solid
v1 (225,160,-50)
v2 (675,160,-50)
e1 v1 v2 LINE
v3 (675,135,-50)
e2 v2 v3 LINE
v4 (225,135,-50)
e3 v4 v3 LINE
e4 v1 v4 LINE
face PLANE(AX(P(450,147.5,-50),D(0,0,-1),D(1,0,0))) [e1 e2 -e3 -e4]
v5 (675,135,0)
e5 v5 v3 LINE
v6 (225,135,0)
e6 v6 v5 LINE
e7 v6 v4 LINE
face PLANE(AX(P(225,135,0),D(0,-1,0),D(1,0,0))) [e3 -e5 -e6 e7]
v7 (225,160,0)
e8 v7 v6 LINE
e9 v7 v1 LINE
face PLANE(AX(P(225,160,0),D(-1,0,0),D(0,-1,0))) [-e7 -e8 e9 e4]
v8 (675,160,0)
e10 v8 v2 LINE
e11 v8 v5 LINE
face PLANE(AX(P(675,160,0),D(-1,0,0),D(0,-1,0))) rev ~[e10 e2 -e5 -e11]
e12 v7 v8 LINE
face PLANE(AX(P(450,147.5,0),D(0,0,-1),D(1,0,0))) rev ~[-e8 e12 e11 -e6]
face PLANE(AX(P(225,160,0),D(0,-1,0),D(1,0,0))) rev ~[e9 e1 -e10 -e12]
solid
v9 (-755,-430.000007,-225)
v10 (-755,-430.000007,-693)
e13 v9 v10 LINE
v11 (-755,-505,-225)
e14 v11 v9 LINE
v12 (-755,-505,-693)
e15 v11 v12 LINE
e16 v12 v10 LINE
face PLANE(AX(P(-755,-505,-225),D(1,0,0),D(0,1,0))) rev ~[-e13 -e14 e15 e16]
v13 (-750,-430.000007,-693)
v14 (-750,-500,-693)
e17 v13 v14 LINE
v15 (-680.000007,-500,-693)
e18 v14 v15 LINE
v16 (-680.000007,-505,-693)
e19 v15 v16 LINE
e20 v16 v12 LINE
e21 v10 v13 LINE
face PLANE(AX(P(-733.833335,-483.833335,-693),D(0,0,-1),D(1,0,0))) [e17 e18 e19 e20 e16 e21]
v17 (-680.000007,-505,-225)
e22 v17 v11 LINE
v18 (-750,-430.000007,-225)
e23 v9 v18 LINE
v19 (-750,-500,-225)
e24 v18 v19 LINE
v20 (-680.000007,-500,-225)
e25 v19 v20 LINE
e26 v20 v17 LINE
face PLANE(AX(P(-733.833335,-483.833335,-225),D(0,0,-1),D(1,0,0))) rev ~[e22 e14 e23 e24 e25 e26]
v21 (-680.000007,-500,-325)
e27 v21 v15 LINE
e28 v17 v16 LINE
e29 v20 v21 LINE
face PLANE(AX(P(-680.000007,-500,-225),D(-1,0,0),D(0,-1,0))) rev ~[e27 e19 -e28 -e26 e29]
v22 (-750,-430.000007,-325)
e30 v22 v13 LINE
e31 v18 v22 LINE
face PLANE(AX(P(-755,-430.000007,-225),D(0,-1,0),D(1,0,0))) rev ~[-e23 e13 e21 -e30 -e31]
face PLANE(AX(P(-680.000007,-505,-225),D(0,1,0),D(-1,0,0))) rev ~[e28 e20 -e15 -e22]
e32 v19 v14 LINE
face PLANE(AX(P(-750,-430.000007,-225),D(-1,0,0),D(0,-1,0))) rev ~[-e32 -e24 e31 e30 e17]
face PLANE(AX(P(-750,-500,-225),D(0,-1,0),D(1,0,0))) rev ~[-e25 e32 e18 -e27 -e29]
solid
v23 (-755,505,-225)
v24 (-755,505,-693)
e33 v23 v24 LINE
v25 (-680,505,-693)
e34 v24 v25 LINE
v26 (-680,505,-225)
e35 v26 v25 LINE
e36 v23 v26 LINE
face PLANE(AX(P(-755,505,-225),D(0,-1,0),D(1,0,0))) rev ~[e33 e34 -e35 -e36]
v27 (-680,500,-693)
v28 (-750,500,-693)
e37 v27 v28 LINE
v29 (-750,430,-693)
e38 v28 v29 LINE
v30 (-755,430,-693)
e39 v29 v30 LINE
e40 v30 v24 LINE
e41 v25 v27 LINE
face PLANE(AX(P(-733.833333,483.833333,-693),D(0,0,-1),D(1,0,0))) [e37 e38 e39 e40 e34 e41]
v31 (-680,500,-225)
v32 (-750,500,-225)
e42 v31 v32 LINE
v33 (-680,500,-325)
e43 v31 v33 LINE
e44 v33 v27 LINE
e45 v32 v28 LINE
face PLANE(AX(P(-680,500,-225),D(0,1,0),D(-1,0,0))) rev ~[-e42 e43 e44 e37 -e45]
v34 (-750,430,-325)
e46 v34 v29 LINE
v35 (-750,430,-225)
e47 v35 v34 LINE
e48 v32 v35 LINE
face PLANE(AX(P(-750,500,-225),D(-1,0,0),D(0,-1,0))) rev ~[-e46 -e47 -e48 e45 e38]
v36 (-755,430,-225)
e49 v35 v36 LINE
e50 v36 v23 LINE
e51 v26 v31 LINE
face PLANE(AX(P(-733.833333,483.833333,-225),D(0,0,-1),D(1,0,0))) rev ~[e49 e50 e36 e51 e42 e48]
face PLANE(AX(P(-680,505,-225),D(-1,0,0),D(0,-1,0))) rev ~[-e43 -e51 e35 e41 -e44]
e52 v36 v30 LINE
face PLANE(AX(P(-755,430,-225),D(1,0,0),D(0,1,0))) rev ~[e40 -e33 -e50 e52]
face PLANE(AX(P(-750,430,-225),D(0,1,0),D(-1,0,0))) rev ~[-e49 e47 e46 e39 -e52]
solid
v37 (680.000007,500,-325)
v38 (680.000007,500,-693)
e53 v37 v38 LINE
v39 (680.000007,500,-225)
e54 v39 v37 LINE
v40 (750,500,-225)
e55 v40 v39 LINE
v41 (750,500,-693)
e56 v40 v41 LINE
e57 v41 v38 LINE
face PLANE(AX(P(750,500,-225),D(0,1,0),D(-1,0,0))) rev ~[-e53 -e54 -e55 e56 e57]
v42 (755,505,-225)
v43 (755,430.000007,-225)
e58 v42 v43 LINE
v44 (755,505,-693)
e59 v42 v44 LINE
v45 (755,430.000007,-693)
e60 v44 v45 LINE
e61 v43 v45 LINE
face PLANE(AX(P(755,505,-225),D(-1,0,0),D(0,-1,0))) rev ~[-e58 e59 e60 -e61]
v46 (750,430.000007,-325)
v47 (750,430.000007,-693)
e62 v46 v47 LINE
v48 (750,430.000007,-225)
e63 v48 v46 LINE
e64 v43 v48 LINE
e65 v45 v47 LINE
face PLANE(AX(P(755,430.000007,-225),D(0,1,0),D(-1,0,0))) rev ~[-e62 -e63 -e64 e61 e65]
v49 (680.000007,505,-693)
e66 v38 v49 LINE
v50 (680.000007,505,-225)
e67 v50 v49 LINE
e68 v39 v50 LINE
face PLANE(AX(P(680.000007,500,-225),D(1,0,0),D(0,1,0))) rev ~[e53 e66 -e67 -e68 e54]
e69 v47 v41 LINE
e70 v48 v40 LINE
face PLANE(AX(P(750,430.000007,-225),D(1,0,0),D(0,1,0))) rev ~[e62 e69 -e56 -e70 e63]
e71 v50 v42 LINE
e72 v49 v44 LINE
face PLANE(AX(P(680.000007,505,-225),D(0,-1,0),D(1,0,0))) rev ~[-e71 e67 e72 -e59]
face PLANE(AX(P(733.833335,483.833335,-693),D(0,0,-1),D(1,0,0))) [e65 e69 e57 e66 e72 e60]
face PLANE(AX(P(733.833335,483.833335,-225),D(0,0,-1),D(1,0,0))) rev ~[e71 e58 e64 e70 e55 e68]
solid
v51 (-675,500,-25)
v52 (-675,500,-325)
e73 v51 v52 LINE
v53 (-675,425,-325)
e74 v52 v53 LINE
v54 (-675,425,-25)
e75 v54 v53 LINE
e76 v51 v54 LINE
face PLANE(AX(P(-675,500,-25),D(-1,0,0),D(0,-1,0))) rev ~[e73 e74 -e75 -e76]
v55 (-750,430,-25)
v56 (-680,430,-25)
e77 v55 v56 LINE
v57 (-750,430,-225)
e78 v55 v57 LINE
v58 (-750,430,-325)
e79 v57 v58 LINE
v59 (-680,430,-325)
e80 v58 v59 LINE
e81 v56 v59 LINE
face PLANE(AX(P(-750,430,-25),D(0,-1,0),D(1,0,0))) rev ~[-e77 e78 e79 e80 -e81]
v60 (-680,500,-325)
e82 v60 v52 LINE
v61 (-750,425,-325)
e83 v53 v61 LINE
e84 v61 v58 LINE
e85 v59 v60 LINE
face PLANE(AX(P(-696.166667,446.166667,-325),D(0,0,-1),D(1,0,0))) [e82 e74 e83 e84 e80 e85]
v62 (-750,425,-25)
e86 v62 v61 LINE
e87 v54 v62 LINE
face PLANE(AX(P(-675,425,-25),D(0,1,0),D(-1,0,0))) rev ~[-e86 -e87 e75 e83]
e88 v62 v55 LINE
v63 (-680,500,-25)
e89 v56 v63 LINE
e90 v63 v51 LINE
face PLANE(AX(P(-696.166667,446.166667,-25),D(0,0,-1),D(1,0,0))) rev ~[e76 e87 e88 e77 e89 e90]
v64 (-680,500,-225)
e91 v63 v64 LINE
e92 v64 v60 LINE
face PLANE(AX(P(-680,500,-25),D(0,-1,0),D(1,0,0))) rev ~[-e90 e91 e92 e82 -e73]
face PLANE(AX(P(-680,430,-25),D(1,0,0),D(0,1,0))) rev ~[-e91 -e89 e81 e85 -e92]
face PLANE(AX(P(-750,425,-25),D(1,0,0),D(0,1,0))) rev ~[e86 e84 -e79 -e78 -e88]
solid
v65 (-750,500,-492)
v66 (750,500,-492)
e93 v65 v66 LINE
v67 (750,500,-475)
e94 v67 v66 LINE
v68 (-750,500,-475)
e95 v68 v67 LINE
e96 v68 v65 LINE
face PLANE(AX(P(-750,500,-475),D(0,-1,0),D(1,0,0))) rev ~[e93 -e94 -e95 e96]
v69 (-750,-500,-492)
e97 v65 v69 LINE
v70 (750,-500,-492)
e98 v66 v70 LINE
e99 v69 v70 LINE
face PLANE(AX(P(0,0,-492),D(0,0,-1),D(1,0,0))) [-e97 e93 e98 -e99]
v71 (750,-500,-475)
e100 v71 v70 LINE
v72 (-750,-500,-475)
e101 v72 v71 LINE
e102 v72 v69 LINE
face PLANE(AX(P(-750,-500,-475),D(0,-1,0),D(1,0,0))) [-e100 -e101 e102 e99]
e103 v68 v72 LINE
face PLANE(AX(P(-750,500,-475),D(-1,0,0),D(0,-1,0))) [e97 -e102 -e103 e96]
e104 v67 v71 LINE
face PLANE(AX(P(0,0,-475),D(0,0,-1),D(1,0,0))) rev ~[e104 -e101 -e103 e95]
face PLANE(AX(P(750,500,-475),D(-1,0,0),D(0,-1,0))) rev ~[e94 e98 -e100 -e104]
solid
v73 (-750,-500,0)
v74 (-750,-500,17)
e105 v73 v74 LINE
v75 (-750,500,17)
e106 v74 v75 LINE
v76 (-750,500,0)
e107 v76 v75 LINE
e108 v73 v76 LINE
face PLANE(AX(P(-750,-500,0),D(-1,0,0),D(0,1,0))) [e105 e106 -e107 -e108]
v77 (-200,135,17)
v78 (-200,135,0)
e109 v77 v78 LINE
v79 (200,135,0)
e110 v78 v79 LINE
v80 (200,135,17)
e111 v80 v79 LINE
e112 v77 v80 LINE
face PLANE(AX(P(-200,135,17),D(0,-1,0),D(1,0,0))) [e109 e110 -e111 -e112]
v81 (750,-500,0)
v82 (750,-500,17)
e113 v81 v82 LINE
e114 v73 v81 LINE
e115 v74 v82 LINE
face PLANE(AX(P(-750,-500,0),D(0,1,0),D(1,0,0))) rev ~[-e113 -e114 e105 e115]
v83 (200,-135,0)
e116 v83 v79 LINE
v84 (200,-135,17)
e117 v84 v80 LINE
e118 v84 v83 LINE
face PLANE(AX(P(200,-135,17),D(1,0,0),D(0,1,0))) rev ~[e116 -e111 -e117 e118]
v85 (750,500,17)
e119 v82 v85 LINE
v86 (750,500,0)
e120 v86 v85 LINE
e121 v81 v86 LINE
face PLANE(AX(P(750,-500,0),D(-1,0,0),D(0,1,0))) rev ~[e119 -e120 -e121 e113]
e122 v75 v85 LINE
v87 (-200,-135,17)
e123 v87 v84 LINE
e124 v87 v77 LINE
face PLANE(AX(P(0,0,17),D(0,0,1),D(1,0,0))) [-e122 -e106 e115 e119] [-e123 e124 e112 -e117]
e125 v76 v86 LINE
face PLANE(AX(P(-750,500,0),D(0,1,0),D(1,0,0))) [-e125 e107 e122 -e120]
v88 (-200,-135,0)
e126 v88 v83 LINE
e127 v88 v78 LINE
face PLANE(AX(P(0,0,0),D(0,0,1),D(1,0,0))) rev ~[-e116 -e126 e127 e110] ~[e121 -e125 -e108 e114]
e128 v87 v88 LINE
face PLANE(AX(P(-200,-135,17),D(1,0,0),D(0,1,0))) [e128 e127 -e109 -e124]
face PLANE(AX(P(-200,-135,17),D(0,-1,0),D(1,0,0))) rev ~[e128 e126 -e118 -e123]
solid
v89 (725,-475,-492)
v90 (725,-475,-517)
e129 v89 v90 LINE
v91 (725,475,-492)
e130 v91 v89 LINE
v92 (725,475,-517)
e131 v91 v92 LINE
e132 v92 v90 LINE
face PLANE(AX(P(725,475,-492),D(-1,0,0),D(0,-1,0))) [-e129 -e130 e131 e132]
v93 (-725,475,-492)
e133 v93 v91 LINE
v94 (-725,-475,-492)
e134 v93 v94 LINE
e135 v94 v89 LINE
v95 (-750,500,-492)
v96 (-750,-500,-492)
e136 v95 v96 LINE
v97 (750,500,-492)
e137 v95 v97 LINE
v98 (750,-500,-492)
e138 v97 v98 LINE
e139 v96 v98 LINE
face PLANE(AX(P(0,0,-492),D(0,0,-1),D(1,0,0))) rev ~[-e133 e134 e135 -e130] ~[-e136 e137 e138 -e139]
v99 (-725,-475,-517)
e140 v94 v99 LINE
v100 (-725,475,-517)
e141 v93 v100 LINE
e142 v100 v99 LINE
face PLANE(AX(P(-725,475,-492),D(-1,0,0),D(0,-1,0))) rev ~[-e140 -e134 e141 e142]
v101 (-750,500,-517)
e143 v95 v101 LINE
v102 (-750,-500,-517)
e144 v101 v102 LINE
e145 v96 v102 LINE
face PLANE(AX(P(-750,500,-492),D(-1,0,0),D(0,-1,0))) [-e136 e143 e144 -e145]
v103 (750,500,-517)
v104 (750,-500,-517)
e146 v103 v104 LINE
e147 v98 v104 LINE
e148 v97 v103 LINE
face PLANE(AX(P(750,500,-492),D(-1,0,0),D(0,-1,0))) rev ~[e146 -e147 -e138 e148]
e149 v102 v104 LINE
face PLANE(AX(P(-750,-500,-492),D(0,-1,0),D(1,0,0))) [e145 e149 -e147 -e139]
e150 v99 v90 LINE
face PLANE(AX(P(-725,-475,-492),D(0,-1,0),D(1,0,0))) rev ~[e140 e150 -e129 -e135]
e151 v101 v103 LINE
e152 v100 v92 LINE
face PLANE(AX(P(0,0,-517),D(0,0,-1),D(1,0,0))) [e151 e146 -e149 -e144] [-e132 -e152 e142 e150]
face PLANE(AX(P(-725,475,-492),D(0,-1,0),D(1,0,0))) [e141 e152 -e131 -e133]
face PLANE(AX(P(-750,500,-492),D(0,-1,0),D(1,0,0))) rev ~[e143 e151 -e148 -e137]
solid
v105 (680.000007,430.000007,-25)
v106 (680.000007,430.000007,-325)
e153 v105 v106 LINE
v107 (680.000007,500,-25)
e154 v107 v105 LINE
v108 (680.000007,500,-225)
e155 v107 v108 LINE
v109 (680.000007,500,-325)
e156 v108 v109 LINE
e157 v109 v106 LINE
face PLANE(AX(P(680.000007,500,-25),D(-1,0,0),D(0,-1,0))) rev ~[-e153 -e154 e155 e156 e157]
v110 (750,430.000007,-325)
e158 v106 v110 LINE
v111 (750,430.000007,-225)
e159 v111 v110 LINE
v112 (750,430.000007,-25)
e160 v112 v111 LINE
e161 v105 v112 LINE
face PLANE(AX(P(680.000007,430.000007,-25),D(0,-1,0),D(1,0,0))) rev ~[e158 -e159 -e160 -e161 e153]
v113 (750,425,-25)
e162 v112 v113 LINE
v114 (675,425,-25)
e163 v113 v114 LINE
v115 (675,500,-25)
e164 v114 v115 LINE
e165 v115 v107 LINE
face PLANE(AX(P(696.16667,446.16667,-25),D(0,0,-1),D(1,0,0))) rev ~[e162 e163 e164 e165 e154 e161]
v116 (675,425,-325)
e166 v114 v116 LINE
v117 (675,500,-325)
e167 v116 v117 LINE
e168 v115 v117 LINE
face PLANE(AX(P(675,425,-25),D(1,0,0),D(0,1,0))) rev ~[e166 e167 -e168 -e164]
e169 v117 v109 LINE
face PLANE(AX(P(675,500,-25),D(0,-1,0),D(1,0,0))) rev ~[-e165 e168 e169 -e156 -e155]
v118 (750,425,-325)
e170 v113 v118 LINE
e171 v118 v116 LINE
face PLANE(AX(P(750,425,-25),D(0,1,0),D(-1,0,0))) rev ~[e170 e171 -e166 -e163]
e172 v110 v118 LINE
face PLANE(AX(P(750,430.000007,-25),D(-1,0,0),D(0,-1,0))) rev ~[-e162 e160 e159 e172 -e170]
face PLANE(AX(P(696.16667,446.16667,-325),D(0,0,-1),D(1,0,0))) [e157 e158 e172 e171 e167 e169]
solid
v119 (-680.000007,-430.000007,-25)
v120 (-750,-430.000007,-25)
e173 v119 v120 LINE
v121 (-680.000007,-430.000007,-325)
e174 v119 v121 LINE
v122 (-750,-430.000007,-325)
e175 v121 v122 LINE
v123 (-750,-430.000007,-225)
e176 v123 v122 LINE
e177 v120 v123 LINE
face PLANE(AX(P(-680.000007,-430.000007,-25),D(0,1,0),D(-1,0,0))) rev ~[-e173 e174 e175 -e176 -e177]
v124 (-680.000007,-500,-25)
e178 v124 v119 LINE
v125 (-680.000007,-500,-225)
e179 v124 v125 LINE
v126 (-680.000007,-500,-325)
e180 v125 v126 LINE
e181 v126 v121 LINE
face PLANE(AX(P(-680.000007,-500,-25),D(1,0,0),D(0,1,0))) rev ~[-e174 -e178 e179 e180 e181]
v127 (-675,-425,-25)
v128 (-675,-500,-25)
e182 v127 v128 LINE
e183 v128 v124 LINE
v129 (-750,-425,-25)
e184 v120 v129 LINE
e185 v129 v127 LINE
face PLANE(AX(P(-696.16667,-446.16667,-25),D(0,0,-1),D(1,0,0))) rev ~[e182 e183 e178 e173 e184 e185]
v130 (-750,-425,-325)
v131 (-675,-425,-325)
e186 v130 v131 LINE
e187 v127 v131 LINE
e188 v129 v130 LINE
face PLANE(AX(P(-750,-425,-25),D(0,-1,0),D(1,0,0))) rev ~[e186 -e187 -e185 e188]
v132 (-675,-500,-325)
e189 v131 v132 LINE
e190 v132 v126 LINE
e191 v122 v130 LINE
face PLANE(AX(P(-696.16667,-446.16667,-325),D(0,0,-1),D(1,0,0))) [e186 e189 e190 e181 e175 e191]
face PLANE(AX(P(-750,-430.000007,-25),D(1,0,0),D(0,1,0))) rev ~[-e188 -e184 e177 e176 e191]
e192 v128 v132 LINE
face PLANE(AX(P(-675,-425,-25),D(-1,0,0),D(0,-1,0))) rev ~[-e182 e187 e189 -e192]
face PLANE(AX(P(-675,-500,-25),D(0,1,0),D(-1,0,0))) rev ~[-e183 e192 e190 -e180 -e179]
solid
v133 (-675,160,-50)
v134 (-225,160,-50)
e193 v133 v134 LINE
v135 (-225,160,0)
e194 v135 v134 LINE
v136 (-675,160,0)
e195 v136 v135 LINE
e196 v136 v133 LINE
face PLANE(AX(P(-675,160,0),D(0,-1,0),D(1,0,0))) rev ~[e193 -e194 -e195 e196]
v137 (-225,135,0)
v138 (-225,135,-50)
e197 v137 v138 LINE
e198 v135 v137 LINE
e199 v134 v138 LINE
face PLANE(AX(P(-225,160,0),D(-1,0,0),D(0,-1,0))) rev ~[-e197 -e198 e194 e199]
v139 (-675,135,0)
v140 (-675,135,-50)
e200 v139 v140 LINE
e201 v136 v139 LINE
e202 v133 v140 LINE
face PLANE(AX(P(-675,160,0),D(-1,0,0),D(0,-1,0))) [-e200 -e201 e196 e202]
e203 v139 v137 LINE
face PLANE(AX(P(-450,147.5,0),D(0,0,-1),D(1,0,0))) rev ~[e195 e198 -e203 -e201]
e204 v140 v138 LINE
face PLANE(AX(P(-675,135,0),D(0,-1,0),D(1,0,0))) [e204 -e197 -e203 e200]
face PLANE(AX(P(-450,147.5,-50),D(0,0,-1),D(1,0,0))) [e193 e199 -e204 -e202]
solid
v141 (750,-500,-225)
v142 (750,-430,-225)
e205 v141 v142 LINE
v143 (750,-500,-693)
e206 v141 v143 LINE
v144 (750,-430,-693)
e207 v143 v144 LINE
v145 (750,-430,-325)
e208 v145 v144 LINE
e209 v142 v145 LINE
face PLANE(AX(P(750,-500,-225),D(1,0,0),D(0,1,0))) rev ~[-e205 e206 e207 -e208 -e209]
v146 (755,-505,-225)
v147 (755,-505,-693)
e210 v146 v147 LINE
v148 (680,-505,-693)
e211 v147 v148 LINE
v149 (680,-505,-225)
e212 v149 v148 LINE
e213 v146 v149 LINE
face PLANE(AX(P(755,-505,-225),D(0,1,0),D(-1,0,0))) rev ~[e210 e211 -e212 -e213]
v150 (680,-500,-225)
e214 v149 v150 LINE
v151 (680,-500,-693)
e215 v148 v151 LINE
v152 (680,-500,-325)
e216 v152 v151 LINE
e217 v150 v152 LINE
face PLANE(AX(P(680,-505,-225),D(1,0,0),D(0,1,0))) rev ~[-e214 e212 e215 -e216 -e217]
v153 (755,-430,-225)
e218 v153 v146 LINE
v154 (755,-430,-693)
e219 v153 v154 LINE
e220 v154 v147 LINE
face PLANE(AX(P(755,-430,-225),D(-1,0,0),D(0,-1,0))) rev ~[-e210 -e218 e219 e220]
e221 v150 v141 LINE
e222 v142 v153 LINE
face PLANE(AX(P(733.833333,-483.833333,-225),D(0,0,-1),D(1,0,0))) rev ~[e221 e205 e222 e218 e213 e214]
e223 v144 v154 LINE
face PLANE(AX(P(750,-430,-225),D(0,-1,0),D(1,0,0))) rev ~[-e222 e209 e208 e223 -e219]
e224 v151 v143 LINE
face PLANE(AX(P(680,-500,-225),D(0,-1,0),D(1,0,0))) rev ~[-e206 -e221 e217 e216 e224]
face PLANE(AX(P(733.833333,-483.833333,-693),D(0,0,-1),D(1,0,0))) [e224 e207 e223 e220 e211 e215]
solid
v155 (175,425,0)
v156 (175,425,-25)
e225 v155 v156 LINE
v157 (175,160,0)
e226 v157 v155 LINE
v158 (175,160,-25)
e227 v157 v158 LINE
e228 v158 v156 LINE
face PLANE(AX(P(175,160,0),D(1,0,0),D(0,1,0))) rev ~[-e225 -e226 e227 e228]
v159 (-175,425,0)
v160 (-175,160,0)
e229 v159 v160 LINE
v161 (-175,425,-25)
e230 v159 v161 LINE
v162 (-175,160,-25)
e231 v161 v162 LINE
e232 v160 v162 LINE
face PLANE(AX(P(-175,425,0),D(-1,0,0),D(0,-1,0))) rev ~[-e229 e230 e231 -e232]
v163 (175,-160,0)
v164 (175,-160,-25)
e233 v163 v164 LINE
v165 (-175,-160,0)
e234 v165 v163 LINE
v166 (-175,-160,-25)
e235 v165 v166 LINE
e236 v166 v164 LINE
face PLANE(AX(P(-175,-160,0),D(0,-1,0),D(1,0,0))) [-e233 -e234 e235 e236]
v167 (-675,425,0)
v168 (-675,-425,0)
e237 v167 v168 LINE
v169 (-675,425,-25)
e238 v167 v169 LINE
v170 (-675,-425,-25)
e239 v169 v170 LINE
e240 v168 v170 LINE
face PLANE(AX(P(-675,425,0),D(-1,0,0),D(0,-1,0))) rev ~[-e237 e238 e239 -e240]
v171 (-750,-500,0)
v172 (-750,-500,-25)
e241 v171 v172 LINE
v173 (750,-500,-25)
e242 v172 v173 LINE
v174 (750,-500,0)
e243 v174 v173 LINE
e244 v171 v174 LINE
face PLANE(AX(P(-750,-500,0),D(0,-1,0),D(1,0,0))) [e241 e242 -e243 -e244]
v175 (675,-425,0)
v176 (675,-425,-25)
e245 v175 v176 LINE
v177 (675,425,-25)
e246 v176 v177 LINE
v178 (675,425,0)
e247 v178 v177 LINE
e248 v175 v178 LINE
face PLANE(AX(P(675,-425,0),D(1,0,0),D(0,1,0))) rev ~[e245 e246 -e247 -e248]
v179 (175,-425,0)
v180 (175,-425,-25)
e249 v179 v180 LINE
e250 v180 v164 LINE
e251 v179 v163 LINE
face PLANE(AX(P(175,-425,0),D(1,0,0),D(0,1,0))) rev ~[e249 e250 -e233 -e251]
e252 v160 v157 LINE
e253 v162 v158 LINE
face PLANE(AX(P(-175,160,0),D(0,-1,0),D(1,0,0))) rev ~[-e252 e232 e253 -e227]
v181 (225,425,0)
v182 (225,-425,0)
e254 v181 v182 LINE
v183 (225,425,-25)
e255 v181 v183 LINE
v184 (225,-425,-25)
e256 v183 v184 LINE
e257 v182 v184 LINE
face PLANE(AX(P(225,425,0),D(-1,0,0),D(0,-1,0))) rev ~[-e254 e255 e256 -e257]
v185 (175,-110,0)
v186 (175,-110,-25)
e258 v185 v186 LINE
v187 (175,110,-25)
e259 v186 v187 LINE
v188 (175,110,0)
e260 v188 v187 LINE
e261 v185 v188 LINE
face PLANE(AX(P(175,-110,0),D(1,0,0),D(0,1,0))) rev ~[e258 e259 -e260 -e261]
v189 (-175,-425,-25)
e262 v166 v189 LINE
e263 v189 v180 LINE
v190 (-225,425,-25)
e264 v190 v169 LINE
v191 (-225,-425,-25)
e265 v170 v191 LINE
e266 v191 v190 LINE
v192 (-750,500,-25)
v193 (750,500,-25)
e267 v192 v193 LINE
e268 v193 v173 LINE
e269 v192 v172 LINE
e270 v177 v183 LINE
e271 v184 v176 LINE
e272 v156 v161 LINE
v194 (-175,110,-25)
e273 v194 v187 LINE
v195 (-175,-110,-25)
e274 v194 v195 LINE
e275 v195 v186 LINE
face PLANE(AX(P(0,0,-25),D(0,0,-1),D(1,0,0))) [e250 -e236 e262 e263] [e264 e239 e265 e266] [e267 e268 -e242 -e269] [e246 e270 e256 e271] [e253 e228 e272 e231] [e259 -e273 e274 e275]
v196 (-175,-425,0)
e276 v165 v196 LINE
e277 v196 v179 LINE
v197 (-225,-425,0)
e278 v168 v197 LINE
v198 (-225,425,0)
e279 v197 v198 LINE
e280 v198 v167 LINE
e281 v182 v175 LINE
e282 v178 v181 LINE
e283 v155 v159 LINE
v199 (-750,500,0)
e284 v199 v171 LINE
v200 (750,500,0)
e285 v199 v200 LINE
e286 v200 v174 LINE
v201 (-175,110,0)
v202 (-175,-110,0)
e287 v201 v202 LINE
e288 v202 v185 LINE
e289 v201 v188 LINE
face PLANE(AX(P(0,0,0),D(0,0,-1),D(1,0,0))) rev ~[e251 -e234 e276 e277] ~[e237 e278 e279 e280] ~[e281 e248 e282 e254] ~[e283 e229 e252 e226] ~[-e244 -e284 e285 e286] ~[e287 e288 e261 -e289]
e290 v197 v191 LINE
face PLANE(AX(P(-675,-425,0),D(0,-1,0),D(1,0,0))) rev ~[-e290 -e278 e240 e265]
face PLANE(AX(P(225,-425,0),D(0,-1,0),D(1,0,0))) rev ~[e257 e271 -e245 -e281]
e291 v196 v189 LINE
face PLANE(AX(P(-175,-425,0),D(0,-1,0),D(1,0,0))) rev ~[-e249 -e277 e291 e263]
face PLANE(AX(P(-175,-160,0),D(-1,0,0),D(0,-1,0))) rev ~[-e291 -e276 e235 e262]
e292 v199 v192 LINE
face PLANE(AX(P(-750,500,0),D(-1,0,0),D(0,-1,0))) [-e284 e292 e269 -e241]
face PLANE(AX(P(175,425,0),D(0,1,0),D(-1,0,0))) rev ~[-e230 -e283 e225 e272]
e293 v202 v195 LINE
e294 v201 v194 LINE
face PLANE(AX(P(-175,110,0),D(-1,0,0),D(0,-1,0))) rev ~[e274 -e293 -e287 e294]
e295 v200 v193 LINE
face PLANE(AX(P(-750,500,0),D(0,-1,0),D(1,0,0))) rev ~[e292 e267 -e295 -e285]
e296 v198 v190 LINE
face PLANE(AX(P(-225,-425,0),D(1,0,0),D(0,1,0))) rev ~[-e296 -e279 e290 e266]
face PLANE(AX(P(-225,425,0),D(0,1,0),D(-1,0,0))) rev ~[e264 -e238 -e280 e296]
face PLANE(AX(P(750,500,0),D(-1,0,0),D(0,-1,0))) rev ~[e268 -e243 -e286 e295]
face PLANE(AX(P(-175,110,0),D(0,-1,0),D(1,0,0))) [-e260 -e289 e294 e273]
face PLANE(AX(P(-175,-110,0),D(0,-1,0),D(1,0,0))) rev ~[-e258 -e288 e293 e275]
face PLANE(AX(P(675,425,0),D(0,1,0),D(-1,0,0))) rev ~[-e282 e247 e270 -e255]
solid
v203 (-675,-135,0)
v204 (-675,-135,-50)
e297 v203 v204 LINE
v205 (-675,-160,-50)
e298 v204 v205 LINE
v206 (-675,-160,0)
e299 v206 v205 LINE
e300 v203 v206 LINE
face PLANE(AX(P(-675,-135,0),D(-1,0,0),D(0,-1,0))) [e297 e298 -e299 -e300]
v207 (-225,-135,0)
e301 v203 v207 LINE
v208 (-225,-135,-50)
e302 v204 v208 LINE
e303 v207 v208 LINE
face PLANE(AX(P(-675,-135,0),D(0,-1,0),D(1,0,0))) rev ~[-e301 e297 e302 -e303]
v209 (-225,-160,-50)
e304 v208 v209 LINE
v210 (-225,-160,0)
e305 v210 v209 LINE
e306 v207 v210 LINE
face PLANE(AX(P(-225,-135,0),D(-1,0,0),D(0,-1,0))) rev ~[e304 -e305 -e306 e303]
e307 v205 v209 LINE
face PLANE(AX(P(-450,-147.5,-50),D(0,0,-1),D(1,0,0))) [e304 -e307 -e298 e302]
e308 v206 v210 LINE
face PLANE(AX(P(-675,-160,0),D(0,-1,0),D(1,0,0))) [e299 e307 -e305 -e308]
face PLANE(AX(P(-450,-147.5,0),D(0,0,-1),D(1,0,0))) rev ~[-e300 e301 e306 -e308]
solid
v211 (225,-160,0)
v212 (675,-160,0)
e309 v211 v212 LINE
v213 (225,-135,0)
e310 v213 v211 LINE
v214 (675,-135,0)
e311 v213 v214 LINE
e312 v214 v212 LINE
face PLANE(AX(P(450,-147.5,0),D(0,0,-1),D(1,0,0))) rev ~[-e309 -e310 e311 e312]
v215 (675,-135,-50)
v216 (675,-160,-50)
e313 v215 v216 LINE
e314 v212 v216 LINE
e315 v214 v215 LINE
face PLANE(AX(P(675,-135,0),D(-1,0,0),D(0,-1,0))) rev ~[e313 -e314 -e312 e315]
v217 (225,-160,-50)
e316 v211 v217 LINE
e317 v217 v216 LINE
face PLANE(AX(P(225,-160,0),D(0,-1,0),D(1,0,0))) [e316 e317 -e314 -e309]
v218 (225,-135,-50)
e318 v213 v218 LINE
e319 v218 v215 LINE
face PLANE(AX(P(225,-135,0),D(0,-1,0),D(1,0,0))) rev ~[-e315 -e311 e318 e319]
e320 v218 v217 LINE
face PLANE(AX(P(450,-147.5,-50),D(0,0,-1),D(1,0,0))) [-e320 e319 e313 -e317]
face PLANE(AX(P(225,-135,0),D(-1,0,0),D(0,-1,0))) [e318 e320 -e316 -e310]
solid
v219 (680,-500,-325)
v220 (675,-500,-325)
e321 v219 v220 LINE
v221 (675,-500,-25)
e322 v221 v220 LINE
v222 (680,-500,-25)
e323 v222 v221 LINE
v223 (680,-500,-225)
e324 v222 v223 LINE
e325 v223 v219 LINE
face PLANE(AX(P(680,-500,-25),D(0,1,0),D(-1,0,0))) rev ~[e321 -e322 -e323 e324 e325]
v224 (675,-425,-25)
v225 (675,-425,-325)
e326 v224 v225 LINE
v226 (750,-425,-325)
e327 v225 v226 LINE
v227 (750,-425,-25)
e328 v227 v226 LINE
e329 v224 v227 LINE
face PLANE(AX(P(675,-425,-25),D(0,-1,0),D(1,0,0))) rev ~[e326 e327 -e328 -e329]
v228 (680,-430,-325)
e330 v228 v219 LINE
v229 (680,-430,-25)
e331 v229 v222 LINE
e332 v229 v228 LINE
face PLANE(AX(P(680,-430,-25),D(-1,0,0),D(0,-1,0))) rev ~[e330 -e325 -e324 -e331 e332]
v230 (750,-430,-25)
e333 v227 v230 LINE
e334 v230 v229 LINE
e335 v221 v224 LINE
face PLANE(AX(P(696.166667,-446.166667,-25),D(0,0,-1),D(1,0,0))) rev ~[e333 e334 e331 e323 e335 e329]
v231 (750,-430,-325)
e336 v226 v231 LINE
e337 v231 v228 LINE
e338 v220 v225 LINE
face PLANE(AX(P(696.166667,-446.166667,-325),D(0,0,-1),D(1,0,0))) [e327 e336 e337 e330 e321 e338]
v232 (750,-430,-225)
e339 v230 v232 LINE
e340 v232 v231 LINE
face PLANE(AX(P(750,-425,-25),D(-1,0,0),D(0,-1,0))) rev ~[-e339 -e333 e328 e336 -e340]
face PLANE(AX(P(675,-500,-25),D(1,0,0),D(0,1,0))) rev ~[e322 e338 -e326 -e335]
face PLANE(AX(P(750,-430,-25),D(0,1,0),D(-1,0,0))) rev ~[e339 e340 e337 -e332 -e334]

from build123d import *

# Parameters (mm, degrees)
F0_W      = 1500
F0_H      = 1000
F1_DEPTH  = 17
F2_W      = 1500
F2_H      = 1000
F2_W_2    = 350
F2_H_2    = 50
F3_DEPTH  = 25
F2_W_3    = 450
F2_H_3    = 25
F4_DEPTH  = 50
F5_W      = 400
F5_H      = 270
F6_DEPTH  = 17
F8_DEPTH  = 300
F11_DEPTH = 468
F13_W     = 1500
F13_H     = 1000
F14_DEPTH = 17
F15_W     = 1500
F15_H     = 1000
F15_W_2   = 1450
F15_H_2   = 950
F16_DEPTH = 25


with BuildPart() as f1:
    # F0 (on Top) → F1 (new body)
    with BuildSketch(Plane.XY):
        Rectangle(F0_W, F0_H)
    extrude(amount=F1_DEPTH)

    # F5 (on face) → F6 (cut, through all)
    with BuildSketch(Plane.XY.offset(17)):
        Rectangle(F5_W, F5_H)
    extrude(amount=-F6_DEPTH, mode=Mode.SUBTRACT)


with BuildPart() as f3:
    # F2 (on face) → F3 (new body)
    with BuildSketch(Plane(origin=(0, 0, 0), x_dir=(1, 0, 0), z_dir=(0, 0, -1))):
        Rectangle(F2_W, F2_H)
        Polygon((225, 425), (675, 425), (675, 160), (675, 135), (675, -135), (675, -160), (675, -425), (225, -425), (175, -425), (-175, -425), (-225, -425), (-675, -425), (-675, -160), (-675, -135), (-675, 135), (-675, 160), (-675, 425), (-225, 425), (-175, 425), (175, 425), align=None, mode=Mode.SUBTRACT)
        Polygon((-175, 160), (-175, 425), (-225, 425), (-225, 160), (-225, 135), (-225, -135), (-225, -160), (-225, -425), (-175, -425), (-175, -160), (-175, -110), (-175, 110), align=None)
        Polygon((225, 160), (225, 425), (175, 425), (175, 160), (175, 110), (175, -110), (175, -160), (175, -425), (225, -425), (225, -160), (225, -135), (225, 135), align=None)
        with Locations((0, 135)):
            Rectangle(F2_W_2, F2_H_2)
        with Locations((0, -135)):
            Rectangle(F2_W_2, F2_H_2)
    extrude(amount=F3_DEPTH)


with BuildPart() as f4:
    # F2 (on face) → F4 (new body)
    with BuildSketch(Plane(origin=(0, 0, 0), x_dir=(1, 0, 0), z_dir=(0, 0, -1))):
        with Locations((-450, 147.5)):
            Rectangle(F2_W_3, F2_H_3)
    extrude(amount=F4_DEPTH)


with BuildPart() as f4b:
    # F2 (on face) → F4, piece 2 (new body)
    with BuildSketch(Plane(origin=(0, 0, 0), x_dir=(1, 0, 0), z_dir=(0, 0, -1))):
        with Locations((-450, -147.5)):
            Rectangle(F2_W_3, F2_H_3)
    extrude(amount=F4_DEPTH)


with BuildPart() as f4c:
    # F2 (on face) → F4, piece 3 (new body)
    with BuildSketch(Plane(origin=(0, 0, 0), x_dir=(1, 0, 0), z_dir=(0, 0, -1))):
        with Locations((450, 147.5)):
            Rectangle(F2_W_3, F2_H_3)
    extrude(amount=F4_DEPTH)


with BuildPart() as f4d:
    # F2 (on face) → F4, piece 4 (new body)
    with BuildSketch(Plane(origin=(0, 0, 0), x_dir=(1, 0, 0), z_dir=(0, 0, -1))):
        with Locations((450, -147.5)):
            Rectangle(F2_W_3, F2_H_3)
    extrude(amount=F4_DEPTH)


with BuildPart() as f8:
    # F7 (on face) → F8 (new body)
    with BuildSketch(Plane(origin=(0, 0, -25), x_dir=(1, 0, 0), z_dir=(0, 0, -1))):
        Polygon((-675, -500), (-675, -425), (-750, -425), (-750, -430), (-680, -430), (-680, -500), align=None)
        Polygon((-750, 425), (-675, 425), (-675, 500), (-680.0000071526, 500), (-680.0000071526, 430.0000071526), (-750, 430.0000071526), align=None)
        Polygon((680, 500), (675, 500), (675, 425), (750, 425), (750, 430), (680, 430), align=None)
        Polygon((675, -425), (675, -500), (680.0000071526, -500), (680.0000071526, -430.0000071526), (750, -430.0000071526), (750, -425), align=None)
    extrude(amount=F8_DEPTH)

    # F10 (on offset) → F11 (join)
    with BuildSketch(Plane(origin=(0, 0, -225), x_dir=(1, 0, 0), z_dir=(0, 0, -1))):
        Polygon((755, -430.0000071526), (750, -430.0000071526), (750, -500), (680.0000071526, -500), (680.0000071526, -505), (755, -505), align=None)
        Polygon((750, 500), (750, 430), (755, 430), (755, 505), (680, 505), (680, 500), align=None)
        Polygon((-750, 500), (-680.0000071526, 500), (-680.0000071526, 505), (-755, 505), (-755, 430.0000071526), (-750, 430.0000071526), align=None)
        Polygon((-750, -500), (-750, -430), (-755, -430), (-755, -505), (-680, -505), (-680, -500), align=None)
    extrude(amount=F11_DEPTH)


with BuildPart() as f14:
    # F13 (on offset) → F14 (new body)
    with BuildSketch(Plane(origin=(0, 0, -475), x_dir=(1, 0, 0), z_dir=(0, 0, -1))):
        Rectangle(F13_W, F13_H)
    extrude(amount=F14_DEPTH)


with BuildPart() as f16:
    # F15 (on face) → F16 (new body)
    with BuildSketch(Plane(origin=(0, 0, -492), x_dir=(1, 0, 0), z_dir=(0, 0, -1))):
        Rectangle(F15_W, F15_H)
        Rectangle(F15_W_2, F15_H_2, mode=Mode.SUBTRACT)
    extrude(amount=F16_DEPTH)


solid = Compound([f1.part, f3.part, f4.part, f4b.part, f4c.part, f4d.part, f8.part, f14.part, f16.part])
